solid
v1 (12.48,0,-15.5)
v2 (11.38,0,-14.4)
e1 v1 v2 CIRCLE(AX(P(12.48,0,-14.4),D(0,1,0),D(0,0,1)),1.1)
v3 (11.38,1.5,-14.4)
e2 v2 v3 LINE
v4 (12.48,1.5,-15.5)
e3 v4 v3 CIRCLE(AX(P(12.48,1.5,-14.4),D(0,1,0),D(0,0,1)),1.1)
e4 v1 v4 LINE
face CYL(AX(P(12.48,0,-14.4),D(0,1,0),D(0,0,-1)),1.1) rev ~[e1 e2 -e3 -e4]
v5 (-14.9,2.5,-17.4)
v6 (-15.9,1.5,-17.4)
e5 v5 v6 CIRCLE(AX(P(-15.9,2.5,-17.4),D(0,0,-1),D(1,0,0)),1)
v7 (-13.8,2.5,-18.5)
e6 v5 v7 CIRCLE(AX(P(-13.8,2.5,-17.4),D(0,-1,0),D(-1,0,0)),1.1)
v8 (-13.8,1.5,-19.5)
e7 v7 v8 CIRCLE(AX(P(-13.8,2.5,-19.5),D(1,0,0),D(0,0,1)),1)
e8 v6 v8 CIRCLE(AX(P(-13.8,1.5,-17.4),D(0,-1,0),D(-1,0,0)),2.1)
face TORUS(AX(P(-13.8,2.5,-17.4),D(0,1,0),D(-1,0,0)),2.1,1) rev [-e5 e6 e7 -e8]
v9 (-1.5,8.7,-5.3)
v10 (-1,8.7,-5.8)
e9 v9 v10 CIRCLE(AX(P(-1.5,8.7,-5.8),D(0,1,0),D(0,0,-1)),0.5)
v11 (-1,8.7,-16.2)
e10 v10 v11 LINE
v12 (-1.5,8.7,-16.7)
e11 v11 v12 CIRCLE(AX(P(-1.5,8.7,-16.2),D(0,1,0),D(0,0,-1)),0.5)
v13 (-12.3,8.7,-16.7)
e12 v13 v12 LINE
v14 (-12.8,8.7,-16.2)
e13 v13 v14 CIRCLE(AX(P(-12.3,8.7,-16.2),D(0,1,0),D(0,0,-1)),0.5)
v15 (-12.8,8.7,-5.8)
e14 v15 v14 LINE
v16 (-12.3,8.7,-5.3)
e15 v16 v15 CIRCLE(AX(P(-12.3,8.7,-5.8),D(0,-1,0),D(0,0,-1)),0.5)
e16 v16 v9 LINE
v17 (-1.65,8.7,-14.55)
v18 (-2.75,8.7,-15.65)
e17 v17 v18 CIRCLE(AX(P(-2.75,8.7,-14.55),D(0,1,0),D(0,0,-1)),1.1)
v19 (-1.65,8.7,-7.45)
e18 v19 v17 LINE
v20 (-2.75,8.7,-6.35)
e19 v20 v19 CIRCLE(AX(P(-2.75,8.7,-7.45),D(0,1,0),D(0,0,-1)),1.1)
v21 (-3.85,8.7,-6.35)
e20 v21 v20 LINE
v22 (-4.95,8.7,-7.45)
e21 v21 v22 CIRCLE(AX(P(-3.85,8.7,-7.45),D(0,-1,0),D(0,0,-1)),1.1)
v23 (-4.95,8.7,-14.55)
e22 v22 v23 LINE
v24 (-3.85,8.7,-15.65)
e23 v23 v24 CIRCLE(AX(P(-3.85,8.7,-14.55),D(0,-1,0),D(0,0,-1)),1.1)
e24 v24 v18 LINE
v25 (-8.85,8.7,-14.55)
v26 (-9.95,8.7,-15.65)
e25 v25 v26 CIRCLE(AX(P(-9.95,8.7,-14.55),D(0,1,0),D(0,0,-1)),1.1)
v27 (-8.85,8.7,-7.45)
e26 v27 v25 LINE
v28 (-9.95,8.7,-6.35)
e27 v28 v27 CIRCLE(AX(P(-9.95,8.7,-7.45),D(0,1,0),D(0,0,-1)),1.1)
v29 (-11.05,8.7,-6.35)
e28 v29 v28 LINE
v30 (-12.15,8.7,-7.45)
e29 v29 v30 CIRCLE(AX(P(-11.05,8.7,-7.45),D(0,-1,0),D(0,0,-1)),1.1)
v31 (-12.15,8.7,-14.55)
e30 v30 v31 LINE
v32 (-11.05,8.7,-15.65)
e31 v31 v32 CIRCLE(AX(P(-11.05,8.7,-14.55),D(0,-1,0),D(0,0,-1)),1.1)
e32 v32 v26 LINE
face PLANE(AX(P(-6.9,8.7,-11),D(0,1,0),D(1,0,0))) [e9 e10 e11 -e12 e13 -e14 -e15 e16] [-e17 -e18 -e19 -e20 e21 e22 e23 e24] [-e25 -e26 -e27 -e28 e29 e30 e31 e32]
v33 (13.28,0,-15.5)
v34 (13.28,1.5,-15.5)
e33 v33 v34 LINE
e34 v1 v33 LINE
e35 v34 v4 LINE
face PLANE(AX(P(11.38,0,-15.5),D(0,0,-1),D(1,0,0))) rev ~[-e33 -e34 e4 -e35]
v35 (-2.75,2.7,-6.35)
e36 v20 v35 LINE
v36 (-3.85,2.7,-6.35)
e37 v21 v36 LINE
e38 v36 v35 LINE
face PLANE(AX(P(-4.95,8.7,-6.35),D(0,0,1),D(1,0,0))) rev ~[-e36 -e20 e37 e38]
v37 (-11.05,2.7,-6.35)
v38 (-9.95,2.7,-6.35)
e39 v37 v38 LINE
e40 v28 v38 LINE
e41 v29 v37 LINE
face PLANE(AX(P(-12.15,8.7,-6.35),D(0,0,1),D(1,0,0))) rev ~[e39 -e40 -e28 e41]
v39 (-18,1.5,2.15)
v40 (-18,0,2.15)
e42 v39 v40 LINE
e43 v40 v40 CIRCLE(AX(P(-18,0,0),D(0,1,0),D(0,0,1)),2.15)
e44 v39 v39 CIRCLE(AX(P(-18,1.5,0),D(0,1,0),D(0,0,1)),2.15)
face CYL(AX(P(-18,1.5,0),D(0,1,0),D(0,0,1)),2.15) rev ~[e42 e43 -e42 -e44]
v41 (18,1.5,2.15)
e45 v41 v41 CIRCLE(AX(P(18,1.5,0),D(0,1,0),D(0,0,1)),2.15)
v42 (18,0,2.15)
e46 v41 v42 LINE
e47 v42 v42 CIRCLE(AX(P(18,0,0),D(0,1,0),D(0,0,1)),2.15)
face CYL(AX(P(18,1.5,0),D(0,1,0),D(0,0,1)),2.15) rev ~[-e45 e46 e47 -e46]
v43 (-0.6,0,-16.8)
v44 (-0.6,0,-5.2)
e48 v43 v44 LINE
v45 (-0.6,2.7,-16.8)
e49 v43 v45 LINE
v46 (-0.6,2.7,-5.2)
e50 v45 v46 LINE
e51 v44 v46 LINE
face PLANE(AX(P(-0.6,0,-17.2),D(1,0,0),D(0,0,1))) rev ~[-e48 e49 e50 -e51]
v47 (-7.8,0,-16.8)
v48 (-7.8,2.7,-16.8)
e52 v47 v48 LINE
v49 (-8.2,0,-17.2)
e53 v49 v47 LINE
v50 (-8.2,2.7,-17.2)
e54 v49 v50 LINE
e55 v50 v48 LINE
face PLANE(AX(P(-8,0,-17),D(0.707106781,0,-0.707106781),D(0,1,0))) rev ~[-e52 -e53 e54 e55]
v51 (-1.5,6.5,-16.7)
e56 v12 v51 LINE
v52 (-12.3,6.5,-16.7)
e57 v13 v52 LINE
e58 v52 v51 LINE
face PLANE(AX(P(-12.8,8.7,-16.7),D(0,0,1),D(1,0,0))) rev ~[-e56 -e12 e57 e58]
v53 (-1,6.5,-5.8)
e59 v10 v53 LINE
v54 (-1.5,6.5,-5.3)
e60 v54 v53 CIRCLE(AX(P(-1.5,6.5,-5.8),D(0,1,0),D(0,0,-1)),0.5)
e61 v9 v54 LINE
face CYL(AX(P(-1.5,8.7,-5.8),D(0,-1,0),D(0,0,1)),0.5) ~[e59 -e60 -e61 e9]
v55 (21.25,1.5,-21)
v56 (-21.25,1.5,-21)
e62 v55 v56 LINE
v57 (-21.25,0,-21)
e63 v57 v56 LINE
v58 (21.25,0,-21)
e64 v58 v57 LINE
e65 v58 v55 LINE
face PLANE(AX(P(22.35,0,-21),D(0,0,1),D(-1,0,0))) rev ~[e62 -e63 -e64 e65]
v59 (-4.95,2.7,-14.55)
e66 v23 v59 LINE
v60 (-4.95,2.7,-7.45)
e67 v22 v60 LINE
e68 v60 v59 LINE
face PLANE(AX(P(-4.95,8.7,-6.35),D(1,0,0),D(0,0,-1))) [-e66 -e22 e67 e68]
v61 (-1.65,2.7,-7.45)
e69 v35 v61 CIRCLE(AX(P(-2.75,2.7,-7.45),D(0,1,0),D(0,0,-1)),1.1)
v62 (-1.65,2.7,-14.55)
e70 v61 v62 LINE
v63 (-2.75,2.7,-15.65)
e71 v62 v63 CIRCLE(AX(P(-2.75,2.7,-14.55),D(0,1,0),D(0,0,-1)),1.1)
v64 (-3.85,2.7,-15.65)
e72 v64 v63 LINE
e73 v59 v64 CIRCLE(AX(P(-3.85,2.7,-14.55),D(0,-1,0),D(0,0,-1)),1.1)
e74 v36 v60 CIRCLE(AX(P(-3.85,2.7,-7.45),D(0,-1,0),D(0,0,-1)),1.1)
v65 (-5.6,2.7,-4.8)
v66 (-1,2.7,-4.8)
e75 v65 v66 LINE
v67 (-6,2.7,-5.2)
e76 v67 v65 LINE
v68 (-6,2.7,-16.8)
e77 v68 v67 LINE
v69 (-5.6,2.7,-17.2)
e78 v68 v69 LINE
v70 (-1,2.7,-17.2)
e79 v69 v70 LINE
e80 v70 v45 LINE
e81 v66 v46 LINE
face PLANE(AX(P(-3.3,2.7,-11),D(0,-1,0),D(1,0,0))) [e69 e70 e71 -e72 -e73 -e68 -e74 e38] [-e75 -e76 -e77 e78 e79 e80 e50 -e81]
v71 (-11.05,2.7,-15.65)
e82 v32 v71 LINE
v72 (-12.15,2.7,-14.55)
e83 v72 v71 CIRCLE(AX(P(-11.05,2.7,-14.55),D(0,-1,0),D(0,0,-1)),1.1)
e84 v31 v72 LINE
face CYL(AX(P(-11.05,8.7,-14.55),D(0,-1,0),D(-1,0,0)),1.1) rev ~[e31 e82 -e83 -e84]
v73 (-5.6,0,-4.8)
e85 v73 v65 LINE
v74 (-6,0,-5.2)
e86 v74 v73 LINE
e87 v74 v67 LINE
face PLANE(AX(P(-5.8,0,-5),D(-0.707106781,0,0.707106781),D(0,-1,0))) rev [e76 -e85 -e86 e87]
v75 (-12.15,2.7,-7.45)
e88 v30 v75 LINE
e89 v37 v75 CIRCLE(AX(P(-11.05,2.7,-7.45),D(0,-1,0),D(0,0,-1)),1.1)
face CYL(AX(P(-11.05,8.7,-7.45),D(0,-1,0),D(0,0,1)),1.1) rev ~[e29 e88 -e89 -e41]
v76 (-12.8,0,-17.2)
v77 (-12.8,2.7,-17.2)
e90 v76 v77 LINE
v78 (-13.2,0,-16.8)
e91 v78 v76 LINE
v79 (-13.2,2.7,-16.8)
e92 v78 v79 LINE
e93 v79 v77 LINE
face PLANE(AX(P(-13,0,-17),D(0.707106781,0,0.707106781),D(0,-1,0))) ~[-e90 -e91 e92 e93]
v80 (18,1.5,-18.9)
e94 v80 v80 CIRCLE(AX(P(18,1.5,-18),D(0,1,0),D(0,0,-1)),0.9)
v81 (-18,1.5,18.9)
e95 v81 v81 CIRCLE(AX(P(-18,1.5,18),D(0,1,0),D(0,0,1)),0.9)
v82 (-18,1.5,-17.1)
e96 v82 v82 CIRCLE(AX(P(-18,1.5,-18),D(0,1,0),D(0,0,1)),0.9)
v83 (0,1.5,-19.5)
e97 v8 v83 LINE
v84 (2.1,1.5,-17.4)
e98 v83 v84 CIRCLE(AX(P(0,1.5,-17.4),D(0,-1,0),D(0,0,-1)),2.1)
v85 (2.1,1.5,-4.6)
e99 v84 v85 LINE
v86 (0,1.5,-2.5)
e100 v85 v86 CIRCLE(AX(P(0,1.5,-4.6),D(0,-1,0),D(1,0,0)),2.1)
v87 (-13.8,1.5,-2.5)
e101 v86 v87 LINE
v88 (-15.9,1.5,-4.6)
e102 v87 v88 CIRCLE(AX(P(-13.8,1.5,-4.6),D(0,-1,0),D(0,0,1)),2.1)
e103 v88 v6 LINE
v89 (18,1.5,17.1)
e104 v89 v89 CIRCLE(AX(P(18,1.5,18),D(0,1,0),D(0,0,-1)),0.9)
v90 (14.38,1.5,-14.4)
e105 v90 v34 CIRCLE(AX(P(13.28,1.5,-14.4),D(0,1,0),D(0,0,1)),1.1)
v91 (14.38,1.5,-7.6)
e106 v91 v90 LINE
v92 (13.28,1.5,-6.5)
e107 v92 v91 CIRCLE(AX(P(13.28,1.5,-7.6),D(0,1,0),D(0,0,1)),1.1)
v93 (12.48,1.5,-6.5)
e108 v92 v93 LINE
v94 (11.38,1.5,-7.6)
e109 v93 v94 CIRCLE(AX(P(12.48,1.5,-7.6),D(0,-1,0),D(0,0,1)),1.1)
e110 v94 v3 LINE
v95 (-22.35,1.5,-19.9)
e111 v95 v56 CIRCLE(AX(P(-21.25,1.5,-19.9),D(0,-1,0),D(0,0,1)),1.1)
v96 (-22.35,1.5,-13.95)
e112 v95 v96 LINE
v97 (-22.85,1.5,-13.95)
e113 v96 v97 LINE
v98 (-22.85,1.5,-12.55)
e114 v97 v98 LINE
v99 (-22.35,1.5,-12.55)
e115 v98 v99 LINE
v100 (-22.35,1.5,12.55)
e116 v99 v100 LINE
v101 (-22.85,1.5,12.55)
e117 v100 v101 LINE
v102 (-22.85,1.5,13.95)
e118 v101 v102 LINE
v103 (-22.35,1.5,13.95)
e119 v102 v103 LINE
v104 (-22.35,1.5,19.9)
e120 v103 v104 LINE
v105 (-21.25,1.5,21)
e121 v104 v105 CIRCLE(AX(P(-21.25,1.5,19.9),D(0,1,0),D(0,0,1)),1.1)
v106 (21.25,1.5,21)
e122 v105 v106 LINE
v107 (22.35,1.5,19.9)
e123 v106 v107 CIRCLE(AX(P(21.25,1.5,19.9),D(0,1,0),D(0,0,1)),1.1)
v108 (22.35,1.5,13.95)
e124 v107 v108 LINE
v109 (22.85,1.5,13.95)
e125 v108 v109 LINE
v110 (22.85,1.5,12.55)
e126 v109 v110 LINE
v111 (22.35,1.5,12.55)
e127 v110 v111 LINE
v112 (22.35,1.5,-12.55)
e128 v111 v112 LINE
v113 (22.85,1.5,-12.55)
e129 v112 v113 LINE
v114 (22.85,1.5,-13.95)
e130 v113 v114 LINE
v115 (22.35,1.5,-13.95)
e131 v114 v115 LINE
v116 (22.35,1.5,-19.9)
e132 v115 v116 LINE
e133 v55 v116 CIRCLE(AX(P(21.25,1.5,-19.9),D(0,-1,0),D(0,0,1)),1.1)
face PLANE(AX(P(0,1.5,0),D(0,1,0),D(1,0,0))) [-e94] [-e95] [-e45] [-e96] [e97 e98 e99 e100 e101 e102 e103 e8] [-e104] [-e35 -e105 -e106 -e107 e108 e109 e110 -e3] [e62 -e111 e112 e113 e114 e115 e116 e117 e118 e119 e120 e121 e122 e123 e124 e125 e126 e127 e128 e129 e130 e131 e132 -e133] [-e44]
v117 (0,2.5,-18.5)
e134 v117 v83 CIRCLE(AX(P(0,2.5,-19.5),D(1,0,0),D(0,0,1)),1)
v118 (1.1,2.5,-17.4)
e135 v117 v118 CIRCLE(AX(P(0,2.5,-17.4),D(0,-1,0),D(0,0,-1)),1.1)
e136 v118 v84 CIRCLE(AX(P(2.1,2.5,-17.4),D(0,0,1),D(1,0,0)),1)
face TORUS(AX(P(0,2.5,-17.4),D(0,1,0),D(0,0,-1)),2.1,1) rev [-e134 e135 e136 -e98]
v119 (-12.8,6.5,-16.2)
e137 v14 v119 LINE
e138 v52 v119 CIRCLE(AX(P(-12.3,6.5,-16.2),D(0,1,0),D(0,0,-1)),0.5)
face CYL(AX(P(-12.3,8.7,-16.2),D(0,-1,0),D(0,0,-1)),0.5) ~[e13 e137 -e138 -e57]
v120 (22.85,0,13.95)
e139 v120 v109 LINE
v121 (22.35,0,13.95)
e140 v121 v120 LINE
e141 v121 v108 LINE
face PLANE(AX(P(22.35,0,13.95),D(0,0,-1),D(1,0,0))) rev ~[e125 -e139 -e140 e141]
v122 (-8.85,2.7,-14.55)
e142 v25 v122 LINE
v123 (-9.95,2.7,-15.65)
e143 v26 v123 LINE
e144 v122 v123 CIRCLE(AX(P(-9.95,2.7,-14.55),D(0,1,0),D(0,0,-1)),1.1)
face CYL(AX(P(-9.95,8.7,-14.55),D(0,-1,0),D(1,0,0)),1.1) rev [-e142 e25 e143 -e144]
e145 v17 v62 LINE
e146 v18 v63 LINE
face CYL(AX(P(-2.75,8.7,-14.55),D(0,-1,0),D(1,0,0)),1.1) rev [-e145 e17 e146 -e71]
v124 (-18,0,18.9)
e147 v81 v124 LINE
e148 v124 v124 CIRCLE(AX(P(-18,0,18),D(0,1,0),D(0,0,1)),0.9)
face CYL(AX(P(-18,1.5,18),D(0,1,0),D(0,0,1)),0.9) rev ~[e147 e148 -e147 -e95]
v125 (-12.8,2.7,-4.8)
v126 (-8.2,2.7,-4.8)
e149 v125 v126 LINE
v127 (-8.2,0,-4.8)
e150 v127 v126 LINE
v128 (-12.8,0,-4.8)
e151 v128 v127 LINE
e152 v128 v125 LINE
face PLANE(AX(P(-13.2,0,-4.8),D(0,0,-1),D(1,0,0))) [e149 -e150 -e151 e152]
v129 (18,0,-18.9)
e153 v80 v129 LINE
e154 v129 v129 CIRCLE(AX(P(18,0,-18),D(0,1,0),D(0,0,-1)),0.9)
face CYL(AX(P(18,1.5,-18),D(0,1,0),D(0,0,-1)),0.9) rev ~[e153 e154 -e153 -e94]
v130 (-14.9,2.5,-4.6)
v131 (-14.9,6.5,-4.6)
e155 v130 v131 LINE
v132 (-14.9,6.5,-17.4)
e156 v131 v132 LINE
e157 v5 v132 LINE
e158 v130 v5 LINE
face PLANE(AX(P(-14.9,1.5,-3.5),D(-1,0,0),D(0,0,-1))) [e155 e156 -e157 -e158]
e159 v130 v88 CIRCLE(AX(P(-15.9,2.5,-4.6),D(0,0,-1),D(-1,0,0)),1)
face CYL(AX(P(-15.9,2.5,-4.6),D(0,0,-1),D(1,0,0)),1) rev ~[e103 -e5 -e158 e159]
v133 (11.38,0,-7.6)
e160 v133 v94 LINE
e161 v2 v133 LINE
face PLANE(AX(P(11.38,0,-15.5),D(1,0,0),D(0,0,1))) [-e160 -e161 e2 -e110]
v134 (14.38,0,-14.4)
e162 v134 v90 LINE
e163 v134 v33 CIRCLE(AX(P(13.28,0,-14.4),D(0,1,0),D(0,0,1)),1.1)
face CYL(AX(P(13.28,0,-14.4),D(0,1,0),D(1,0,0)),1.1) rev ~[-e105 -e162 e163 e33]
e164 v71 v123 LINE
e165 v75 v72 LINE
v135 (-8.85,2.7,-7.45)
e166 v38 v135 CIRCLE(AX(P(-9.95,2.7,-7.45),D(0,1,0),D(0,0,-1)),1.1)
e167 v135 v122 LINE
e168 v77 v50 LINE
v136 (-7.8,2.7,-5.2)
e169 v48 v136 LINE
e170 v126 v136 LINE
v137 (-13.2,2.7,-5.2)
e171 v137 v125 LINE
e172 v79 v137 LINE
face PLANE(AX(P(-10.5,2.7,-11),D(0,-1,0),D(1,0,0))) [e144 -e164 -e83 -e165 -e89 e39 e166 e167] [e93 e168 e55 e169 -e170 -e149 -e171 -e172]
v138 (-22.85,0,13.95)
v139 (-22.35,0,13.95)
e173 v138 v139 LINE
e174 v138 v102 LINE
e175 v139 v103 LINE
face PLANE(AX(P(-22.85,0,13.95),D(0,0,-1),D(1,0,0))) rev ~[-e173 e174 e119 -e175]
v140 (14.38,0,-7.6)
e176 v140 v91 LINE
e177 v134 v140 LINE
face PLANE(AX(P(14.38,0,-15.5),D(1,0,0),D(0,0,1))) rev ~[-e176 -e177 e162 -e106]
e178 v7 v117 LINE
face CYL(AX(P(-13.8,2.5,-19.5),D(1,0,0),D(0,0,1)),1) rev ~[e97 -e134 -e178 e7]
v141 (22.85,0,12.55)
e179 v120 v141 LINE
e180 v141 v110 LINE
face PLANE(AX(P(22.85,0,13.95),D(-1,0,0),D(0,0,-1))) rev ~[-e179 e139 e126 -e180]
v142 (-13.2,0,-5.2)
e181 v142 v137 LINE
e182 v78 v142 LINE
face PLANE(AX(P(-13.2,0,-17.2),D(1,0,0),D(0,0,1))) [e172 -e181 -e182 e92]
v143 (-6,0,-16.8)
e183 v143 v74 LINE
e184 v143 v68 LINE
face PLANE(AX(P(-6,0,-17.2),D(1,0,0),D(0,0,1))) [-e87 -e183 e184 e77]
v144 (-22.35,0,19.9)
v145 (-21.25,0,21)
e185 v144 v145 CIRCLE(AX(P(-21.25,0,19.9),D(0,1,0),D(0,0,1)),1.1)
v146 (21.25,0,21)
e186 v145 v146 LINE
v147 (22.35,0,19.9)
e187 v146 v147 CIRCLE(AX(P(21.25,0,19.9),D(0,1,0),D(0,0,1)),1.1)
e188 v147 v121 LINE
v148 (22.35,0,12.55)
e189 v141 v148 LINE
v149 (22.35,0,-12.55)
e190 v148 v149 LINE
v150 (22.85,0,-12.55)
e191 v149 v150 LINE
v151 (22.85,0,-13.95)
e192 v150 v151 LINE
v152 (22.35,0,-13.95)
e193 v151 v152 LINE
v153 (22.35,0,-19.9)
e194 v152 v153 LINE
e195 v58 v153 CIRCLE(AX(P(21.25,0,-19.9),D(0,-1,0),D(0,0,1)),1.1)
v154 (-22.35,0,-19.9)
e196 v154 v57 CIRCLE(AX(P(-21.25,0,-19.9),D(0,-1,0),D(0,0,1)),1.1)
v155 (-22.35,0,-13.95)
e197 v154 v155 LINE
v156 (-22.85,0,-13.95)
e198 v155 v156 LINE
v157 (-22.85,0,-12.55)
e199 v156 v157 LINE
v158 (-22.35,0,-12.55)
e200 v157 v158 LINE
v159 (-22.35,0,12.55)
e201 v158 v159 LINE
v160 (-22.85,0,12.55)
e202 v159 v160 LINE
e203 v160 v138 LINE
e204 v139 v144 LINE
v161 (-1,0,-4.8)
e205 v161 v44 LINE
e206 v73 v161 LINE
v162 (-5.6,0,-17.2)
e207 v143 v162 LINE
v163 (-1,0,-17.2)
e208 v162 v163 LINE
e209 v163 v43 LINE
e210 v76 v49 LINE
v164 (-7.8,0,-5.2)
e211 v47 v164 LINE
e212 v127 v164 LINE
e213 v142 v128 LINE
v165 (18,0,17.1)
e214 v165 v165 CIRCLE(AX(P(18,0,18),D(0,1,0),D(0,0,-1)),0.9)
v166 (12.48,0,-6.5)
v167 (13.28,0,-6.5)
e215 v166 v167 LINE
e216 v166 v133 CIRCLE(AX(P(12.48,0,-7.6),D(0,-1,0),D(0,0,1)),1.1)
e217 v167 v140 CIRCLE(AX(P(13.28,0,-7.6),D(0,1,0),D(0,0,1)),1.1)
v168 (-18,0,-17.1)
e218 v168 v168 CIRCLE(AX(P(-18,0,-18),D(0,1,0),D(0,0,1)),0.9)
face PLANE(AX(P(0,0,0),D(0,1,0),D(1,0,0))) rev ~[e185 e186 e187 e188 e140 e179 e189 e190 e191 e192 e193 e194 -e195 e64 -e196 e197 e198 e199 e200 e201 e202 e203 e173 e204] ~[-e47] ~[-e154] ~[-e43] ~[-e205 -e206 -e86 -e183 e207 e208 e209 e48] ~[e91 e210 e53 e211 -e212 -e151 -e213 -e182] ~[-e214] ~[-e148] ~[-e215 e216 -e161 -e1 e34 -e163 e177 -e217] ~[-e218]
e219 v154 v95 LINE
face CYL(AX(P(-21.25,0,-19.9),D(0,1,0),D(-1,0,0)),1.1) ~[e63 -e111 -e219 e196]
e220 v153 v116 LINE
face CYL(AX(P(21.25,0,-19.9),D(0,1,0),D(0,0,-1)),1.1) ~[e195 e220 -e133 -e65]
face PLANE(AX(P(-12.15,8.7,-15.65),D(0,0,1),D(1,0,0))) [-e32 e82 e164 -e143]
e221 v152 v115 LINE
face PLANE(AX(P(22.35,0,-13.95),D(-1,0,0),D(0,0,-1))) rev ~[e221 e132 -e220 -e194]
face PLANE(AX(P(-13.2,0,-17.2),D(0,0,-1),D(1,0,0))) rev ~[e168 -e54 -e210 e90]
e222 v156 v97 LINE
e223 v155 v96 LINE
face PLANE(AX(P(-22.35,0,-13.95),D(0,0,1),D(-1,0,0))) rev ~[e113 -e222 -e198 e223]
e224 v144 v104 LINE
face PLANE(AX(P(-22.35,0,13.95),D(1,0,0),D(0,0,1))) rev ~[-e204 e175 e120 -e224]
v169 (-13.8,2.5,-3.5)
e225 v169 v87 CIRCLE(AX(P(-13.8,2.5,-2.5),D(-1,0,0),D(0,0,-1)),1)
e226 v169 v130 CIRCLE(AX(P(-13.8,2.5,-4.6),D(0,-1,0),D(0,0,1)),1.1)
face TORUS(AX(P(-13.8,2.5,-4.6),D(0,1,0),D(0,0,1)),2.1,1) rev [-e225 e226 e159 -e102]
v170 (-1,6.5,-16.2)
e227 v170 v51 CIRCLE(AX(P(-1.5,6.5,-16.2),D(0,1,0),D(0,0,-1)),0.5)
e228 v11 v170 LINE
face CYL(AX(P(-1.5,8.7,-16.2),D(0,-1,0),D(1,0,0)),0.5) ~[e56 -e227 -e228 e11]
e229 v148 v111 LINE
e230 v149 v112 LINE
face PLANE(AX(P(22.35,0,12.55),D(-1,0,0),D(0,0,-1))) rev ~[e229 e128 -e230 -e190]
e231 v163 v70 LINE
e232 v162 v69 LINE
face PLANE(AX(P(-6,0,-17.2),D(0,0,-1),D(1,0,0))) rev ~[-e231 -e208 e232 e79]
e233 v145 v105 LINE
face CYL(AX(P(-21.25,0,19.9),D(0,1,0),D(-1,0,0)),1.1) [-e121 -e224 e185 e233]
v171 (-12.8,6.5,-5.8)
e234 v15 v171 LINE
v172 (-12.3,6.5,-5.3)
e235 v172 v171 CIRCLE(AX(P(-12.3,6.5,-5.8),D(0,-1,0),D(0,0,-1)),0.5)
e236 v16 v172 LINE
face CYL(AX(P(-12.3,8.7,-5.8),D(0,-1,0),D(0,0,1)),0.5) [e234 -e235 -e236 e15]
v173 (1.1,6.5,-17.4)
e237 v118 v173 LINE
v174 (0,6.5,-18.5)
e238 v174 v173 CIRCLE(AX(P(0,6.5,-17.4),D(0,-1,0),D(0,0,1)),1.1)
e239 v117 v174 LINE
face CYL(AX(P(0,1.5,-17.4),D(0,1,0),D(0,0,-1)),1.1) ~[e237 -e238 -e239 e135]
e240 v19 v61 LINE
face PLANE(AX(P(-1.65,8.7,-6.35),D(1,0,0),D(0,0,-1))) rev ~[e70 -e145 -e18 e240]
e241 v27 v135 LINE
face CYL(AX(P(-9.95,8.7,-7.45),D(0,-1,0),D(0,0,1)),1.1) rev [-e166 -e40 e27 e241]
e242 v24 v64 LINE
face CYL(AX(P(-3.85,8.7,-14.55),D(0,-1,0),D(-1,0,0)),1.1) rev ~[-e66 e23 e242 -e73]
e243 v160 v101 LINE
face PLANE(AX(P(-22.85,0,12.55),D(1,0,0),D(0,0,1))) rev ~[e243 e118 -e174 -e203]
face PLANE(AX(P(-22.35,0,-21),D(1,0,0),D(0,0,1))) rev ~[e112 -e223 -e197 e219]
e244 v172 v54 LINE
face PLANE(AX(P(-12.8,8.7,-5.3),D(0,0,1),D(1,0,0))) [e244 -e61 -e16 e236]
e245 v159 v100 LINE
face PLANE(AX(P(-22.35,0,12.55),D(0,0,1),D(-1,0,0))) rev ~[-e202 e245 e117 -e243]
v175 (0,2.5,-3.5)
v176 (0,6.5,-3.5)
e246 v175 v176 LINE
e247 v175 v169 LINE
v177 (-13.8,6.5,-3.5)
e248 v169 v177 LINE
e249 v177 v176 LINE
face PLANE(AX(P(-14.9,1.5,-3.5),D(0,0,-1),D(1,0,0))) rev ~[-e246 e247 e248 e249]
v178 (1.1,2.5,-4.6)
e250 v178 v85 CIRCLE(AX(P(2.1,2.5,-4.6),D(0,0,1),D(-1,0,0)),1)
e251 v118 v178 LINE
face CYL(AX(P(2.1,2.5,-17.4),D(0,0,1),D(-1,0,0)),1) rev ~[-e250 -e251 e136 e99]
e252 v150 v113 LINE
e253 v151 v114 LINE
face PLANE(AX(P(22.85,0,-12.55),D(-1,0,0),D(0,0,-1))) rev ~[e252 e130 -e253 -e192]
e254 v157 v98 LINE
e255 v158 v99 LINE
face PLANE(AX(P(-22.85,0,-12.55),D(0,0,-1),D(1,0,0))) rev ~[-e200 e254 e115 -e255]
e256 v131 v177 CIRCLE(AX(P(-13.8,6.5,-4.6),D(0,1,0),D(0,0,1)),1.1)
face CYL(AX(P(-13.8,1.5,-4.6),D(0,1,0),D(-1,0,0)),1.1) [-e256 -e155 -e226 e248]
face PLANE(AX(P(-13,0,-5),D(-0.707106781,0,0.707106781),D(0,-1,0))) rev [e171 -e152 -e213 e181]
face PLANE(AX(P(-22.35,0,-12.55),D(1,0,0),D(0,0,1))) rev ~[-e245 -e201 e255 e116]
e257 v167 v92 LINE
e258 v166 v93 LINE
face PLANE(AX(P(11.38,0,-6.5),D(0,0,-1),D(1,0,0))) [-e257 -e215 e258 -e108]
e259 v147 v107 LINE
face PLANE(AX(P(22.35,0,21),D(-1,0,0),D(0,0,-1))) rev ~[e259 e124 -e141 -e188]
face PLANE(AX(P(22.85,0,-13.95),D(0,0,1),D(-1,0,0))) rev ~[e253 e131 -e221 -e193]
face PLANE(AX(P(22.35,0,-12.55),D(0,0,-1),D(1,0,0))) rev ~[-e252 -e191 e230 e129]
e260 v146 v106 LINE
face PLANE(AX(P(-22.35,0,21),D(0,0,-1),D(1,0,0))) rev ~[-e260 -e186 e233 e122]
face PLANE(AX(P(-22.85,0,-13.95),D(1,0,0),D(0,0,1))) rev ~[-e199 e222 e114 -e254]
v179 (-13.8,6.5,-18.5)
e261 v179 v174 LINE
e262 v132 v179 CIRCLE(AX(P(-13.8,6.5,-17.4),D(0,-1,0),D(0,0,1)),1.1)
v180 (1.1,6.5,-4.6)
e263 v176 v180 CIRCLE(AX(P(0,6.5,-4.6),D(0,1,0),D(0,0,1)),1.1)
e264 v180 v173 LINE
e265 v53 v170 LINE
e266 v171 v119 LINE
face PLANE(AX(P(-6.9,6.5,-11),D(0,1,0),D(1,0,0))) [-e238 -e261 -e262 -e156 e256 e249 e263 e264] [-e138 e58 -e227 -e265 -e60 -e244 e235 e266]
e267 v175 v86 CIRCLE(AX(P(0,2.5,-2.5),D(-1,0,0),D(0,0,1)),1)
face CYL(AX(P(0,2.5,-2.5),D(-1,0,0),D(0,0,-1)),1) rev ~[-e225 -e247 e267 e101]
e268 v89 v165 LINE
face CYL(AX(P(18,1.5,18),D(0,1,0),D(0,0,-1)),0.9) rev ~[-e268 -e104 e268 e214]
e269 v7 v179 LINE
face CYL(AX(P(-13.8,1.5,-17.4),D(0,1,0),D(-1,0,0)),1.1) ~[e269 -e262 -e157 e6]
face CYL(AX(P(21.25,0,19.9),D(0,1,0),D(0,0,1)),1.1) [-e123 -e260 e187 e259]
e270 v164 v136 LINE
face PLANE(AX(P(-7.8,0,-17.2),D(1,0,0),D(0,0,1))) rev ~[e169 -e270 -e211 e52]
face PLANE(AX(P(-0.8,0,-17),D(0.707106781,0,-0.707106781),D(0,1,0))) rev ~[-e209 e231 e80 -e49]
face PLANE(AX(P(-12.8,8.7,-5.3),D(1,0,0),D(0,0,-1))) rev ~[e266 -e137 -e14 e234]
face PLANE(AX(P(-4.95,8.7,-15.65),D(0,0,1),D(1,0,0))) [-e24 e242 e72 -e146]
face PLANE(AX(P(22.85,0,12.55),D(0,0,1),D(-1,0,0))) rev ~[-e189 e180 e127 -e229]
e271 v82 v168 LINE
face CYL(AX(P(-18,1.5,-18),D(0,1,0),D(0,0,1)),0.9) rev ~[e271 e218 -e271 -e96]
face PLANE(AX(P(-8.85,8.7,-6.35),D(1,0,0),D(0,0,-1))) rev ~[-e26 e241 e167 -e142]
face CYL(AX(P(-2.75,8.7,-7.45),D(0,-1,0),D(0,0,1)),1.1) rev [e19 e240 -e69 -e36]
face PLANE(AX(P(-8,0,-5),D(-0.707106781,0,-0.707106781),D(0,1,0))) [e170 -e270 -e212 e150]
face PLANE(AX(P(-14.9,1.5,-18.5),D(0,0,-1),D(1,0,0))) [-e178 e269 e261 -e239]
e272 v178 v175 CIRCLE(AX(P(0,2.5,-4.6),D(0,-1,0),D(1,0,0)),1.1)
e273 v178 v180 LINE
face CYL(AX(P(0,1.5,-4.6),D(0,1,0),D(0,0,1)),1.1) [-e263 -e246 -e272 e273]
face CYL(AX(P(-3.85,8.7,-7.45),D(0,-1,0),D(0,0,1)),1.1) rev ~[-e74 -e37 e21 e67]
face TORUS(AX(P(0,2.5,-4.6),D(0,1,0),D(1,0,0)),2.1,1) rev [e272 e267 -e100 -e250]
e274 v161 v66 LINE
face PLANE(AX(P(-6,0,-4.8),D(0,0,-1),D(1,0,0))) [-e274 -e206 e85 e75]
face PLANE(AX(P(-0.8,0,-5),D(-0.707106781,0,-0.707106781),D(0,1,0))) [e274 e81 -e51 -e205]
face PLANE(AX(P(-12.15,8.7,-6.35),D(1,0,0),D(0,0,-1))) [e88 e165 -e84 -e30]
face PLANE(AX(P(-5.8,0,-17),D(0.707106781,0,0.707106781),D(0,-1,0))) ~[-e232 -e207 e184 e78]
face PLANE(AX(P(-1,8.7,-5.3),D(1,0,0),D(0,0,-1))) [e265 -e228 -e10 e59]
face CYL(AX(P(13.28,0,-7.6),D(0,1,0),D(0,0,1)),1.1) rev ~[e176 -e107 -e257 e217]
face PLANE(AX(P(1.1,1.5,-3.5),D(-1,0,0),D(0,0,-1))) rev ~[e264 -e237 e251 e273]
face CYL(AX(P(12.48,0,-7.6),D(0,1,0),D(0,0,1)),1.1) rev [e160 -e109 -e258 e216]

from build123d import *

# Parameters (mm, degrees)
EXTRUDE_1_DEPTH     = 1.5
SKETCH_2_R          = 2.15
SKETCH_2_R_2        = 0.9
CUT_EXTRUDE_1_DEPTH = 32.070444155
SKETCH_3_W          = 12.2
SKETCH_3_H          = 12
EXTRUDE_2_DEPTH     = 7.2
SKETCH_4_W          = 16
SKETCH_4_H          = 15
EXTRUDE_3_DEPTH     = 7.2
SKETCH_5_W          = 3.3
SKETCH_5_H          = 9.3
CUT_EXTRUDE_2_DEPTH = 33.230614329
SKETCH_6_W          = 5.4
SKETCH_6_H          = 12.4
CUT_EXTRUDE_3_DEPTH = 2.7
SKETCH_7_W          = 3
SKETCH_7_H          = 9
CUT_EXTRUDE_4_DEPTH = 33.230614329
SKETCH_8_W          = 16
SKETCH_8_H          = 15
SKETCH_8_W_2        = 11.8
SKETCH_8_H_2        = 11.4
CUT_EXTRUDE_5_DEPTH = 2.2
FILLET_1_R          = 1.1
FILLET_2_R          = 0.5
FILLET_3_R          = 1
CHAMFER_1_SIZE      = 0.4


with BuildPart() as part:
    # 草图1 → 凸台-拉伸1 (new body)
    with BuildSketch(Plane(origin=(0, 0, 0), x_dir=(1, 0, 0), z_dir=(0, 1, 0))):
        Polygon((-22.35, -12.55), (-22.85, -12.55), (-22.85, -13.95), (-22.35, -13.95), (-22.35, -21), (22.35, -21), (22.35, -13.95), (22.85, -13.95), (22.85, -12.55), (22.35, -12.55), (22.35, 12.55), (22.85, 12.55), (22.85, 13.95), (22.35, 13.95), (22.35, 21), (-22.35, 21), (-22.35, 13.95), (-22.85, 13.95), (-22.85, 12.55), (-22.35, 12.55), align=None)
    extrude(amount=EXTRUDE_1_DEPTH)

    # 草图2 → 切除-拉伸1 (cut, through all)
    with BuildSketch(Plane(origin=(0, 1.5, 0), x_dir=(1, 0, 0), z_dir=(0, 1, 0))):
        with Locations(Location((-18, 0, 0), (0, 0, 270))):
            Circle(SKETCH_2_R)
        with Locations(Location((18, 0, 0), (0, 0, 270))):
            Circle(SKETCH_2_R)
        with Locations(Location((-18, -18, 0), (0, 0, 270))):
            Circle(SKETCH_2_R_2)
        with Locations(Location((-18, 18, 0), (0, 0, 270))):
            Circle(SKETCH_2_R_2)
        with Locations(Location((18, -18, 0), (0, 0, 90))):
            Circle(SKETCH_2_R_2)
        with Locations(Location((18, 18, 0), (0, 0, 90))):
            Circle(SKETCH_2_R_2)
    extrude(amount=-CUT_EXTRUDE_1_DEPTH, mode=Mode.SUBTRACT)

    # 草图3 → 凸台-拉伸2 (add)
    with BuildSketch(Plane(origin=(0, 1.5, 0), x_dir=(1, 0, 0), z_dir=(0, 1, 0))):
        with Locations((-6.9, 11)):
            Rectangle(SKETCH_3_W, SKETCH_3_H)
    extrude(amount=EXTRUDE_2_DEPTH)

    # 草图4 → 凸台-拉伸3 (add)
    with BuildSketch(Plane(origin=(0, 1.5, 0), x_dir=(1, 0, 0), z_dir=(0, 1, 0))):
        with Locations((-6.9, 11)):
            Rectangle(SKETCH_4_W, SKETCH_4_H)
    extrude(amount=EXTRUDE_3_DEPTH)

    # 草图5 → 切除-拉伸2 (cut, through all)
    with BuildSketch(Plane(origin=(0, 8.7, 0), x_dir=(1, 0, 0), z_dir=(0, 1, 0))):
        with Locations((-10.5, 11)):
            Rectangle(SKETCH_5_W, SKETCH_5_H)
        with Locations((-3.3, 11)):
            Rectangle(SKETCH_5_W, SKETCH_5_H)
    extrude(amount=-CUT_EXTRUDE_2_DEPTH, mode=Mode.SUBTRACT)

    # 草图6 → 切除-拉伸3 (cut)
    with BuildSketch(Plane.XZ):
        with Locations((-10.5, -11)):
            Rectangle(SKETCH_6_W, SKETCH_6_H)
        with Locations((-3.3, -11)):
            Rectangle(SKETCH_6_W, SKETCH_6_H)
    extrude(amount=-CUT_EXTRUDE_3_DEPTH, mode=Mode.SUBTRACT)

    # 草图7 → 切除-拉伸4 (cut, through all)
    with BuildSketch(Plane.XZ):
        with Locations((12.88, -11)):
            Rectangle(SKETCH_7_W, SKETCH_7_H)
    extrude(amount=-CUT_EXTRUDE_4_DEPTH, mode=Mode.SUBTRACT)

    # 草图8 → 切除-拉伸5 (cut)
    with BuildSketch(Plane(origin=(0, 8.7, 0), x_dir=(1, 0, 0), z_dir=(0, 1, 0))):
        with Locations((-6.9, 11)):
            Rectangle(SKETCH_8_W, SKETCH_8_H)
        with Locations((-6.9, 11)):
            Rectangle(SKETCH_8_W_2, SKETCH_8_H_2, mode=Mode.SUBTRACT)
    extrude(amount=-CUT_EXTRUDE_5_DEPTH, mode=Mode.SUBTRACT)

    # 圆角1
    fillet_1_edges = [part.edges().sort_by_distance(p)[0] for p in [
        (-12.15, 5.7, -15.65),
        (-8.85, 5.7, -15.65),
        (-12.15, 5.7, -6.35),
        (-8.85, 5.7, -6.35),
        (-4.95, 5.7, -15.65),
        (-1.65, 5.7, -15.65),
        (-4.95, 5.7, -6.35),
        (-1.65, 5.7, -6.35),
        (14.38, 0.75, -6.5),
        (14.38, 0.75, -15.5),
        (11.38, 0.75, -15.5),
        (11.38, 0.75, -6.5),
        (-14.9, 4, -3.5),
        (1.1, 4, -3.5),
        (-14.9, 4, -18.5),
        (1.1, 4, -18.5),
        (22.35, 0.75, 21),
        (-22.35, 0.75, 21),
        (-22.35, 0.75, -21),
        (22.35, 0.75, -21),
    ]]
    fillet(fillet_1_edges, radius=FILLET_1_R)

    # 圆角2
    fillet_2_edges = [part.edges().sort_by_distance(p)[0] for p in [
        (-1, 7.6, -5.3),
        (-12.8, 7.6, -5.3),
        (-12.8, 7.6, -16.7),
        (-1, 7.6, -16.7),
    ]]
    fillet(fillet_2_edges, radius=FILLET_2_R)

    # 圆角3
    fillet_3_edges = [part.edges().sort_by_distance(p)[0] for p in [
        (-6.9, 1.5, -18.5),
        (1.1, 1.5, -11),
        (-6.9, 1.5, -3.5),
        (-14.9, 1.5, -11),
        (-14.577817459, 1.5, -3.822182541),
        (-14.577817459, 1.5, -18.177817459),
        (0.777817459, 1.5, -18.177817459),
        (0.777817459, 1.5, -3.822182541),
    ]]
    fillet(fillet_3_edges, radius=FILLET_3_R)

    # 倒角1
    chamfer_1_edges = [part.edges().sort_by_distance(p)[0] for p in [
        (-7.8, 1.35, -4.8),
        (-7.8, 1.35, -17.2),
        (-13.2, 1.35, -17.2),
        (-13.2, 1.35, -4.8),
        (-0.6, 1.35, -4.8),
        (-0.6, 1.35, -17.2),
        (-6, 1.35, -17.2),
        (-6, 1.35, -4.8),
    ]]
    chamfer(chamfer_1_edges, length=CHAMFER_1_SIZE)


solid = part.part
